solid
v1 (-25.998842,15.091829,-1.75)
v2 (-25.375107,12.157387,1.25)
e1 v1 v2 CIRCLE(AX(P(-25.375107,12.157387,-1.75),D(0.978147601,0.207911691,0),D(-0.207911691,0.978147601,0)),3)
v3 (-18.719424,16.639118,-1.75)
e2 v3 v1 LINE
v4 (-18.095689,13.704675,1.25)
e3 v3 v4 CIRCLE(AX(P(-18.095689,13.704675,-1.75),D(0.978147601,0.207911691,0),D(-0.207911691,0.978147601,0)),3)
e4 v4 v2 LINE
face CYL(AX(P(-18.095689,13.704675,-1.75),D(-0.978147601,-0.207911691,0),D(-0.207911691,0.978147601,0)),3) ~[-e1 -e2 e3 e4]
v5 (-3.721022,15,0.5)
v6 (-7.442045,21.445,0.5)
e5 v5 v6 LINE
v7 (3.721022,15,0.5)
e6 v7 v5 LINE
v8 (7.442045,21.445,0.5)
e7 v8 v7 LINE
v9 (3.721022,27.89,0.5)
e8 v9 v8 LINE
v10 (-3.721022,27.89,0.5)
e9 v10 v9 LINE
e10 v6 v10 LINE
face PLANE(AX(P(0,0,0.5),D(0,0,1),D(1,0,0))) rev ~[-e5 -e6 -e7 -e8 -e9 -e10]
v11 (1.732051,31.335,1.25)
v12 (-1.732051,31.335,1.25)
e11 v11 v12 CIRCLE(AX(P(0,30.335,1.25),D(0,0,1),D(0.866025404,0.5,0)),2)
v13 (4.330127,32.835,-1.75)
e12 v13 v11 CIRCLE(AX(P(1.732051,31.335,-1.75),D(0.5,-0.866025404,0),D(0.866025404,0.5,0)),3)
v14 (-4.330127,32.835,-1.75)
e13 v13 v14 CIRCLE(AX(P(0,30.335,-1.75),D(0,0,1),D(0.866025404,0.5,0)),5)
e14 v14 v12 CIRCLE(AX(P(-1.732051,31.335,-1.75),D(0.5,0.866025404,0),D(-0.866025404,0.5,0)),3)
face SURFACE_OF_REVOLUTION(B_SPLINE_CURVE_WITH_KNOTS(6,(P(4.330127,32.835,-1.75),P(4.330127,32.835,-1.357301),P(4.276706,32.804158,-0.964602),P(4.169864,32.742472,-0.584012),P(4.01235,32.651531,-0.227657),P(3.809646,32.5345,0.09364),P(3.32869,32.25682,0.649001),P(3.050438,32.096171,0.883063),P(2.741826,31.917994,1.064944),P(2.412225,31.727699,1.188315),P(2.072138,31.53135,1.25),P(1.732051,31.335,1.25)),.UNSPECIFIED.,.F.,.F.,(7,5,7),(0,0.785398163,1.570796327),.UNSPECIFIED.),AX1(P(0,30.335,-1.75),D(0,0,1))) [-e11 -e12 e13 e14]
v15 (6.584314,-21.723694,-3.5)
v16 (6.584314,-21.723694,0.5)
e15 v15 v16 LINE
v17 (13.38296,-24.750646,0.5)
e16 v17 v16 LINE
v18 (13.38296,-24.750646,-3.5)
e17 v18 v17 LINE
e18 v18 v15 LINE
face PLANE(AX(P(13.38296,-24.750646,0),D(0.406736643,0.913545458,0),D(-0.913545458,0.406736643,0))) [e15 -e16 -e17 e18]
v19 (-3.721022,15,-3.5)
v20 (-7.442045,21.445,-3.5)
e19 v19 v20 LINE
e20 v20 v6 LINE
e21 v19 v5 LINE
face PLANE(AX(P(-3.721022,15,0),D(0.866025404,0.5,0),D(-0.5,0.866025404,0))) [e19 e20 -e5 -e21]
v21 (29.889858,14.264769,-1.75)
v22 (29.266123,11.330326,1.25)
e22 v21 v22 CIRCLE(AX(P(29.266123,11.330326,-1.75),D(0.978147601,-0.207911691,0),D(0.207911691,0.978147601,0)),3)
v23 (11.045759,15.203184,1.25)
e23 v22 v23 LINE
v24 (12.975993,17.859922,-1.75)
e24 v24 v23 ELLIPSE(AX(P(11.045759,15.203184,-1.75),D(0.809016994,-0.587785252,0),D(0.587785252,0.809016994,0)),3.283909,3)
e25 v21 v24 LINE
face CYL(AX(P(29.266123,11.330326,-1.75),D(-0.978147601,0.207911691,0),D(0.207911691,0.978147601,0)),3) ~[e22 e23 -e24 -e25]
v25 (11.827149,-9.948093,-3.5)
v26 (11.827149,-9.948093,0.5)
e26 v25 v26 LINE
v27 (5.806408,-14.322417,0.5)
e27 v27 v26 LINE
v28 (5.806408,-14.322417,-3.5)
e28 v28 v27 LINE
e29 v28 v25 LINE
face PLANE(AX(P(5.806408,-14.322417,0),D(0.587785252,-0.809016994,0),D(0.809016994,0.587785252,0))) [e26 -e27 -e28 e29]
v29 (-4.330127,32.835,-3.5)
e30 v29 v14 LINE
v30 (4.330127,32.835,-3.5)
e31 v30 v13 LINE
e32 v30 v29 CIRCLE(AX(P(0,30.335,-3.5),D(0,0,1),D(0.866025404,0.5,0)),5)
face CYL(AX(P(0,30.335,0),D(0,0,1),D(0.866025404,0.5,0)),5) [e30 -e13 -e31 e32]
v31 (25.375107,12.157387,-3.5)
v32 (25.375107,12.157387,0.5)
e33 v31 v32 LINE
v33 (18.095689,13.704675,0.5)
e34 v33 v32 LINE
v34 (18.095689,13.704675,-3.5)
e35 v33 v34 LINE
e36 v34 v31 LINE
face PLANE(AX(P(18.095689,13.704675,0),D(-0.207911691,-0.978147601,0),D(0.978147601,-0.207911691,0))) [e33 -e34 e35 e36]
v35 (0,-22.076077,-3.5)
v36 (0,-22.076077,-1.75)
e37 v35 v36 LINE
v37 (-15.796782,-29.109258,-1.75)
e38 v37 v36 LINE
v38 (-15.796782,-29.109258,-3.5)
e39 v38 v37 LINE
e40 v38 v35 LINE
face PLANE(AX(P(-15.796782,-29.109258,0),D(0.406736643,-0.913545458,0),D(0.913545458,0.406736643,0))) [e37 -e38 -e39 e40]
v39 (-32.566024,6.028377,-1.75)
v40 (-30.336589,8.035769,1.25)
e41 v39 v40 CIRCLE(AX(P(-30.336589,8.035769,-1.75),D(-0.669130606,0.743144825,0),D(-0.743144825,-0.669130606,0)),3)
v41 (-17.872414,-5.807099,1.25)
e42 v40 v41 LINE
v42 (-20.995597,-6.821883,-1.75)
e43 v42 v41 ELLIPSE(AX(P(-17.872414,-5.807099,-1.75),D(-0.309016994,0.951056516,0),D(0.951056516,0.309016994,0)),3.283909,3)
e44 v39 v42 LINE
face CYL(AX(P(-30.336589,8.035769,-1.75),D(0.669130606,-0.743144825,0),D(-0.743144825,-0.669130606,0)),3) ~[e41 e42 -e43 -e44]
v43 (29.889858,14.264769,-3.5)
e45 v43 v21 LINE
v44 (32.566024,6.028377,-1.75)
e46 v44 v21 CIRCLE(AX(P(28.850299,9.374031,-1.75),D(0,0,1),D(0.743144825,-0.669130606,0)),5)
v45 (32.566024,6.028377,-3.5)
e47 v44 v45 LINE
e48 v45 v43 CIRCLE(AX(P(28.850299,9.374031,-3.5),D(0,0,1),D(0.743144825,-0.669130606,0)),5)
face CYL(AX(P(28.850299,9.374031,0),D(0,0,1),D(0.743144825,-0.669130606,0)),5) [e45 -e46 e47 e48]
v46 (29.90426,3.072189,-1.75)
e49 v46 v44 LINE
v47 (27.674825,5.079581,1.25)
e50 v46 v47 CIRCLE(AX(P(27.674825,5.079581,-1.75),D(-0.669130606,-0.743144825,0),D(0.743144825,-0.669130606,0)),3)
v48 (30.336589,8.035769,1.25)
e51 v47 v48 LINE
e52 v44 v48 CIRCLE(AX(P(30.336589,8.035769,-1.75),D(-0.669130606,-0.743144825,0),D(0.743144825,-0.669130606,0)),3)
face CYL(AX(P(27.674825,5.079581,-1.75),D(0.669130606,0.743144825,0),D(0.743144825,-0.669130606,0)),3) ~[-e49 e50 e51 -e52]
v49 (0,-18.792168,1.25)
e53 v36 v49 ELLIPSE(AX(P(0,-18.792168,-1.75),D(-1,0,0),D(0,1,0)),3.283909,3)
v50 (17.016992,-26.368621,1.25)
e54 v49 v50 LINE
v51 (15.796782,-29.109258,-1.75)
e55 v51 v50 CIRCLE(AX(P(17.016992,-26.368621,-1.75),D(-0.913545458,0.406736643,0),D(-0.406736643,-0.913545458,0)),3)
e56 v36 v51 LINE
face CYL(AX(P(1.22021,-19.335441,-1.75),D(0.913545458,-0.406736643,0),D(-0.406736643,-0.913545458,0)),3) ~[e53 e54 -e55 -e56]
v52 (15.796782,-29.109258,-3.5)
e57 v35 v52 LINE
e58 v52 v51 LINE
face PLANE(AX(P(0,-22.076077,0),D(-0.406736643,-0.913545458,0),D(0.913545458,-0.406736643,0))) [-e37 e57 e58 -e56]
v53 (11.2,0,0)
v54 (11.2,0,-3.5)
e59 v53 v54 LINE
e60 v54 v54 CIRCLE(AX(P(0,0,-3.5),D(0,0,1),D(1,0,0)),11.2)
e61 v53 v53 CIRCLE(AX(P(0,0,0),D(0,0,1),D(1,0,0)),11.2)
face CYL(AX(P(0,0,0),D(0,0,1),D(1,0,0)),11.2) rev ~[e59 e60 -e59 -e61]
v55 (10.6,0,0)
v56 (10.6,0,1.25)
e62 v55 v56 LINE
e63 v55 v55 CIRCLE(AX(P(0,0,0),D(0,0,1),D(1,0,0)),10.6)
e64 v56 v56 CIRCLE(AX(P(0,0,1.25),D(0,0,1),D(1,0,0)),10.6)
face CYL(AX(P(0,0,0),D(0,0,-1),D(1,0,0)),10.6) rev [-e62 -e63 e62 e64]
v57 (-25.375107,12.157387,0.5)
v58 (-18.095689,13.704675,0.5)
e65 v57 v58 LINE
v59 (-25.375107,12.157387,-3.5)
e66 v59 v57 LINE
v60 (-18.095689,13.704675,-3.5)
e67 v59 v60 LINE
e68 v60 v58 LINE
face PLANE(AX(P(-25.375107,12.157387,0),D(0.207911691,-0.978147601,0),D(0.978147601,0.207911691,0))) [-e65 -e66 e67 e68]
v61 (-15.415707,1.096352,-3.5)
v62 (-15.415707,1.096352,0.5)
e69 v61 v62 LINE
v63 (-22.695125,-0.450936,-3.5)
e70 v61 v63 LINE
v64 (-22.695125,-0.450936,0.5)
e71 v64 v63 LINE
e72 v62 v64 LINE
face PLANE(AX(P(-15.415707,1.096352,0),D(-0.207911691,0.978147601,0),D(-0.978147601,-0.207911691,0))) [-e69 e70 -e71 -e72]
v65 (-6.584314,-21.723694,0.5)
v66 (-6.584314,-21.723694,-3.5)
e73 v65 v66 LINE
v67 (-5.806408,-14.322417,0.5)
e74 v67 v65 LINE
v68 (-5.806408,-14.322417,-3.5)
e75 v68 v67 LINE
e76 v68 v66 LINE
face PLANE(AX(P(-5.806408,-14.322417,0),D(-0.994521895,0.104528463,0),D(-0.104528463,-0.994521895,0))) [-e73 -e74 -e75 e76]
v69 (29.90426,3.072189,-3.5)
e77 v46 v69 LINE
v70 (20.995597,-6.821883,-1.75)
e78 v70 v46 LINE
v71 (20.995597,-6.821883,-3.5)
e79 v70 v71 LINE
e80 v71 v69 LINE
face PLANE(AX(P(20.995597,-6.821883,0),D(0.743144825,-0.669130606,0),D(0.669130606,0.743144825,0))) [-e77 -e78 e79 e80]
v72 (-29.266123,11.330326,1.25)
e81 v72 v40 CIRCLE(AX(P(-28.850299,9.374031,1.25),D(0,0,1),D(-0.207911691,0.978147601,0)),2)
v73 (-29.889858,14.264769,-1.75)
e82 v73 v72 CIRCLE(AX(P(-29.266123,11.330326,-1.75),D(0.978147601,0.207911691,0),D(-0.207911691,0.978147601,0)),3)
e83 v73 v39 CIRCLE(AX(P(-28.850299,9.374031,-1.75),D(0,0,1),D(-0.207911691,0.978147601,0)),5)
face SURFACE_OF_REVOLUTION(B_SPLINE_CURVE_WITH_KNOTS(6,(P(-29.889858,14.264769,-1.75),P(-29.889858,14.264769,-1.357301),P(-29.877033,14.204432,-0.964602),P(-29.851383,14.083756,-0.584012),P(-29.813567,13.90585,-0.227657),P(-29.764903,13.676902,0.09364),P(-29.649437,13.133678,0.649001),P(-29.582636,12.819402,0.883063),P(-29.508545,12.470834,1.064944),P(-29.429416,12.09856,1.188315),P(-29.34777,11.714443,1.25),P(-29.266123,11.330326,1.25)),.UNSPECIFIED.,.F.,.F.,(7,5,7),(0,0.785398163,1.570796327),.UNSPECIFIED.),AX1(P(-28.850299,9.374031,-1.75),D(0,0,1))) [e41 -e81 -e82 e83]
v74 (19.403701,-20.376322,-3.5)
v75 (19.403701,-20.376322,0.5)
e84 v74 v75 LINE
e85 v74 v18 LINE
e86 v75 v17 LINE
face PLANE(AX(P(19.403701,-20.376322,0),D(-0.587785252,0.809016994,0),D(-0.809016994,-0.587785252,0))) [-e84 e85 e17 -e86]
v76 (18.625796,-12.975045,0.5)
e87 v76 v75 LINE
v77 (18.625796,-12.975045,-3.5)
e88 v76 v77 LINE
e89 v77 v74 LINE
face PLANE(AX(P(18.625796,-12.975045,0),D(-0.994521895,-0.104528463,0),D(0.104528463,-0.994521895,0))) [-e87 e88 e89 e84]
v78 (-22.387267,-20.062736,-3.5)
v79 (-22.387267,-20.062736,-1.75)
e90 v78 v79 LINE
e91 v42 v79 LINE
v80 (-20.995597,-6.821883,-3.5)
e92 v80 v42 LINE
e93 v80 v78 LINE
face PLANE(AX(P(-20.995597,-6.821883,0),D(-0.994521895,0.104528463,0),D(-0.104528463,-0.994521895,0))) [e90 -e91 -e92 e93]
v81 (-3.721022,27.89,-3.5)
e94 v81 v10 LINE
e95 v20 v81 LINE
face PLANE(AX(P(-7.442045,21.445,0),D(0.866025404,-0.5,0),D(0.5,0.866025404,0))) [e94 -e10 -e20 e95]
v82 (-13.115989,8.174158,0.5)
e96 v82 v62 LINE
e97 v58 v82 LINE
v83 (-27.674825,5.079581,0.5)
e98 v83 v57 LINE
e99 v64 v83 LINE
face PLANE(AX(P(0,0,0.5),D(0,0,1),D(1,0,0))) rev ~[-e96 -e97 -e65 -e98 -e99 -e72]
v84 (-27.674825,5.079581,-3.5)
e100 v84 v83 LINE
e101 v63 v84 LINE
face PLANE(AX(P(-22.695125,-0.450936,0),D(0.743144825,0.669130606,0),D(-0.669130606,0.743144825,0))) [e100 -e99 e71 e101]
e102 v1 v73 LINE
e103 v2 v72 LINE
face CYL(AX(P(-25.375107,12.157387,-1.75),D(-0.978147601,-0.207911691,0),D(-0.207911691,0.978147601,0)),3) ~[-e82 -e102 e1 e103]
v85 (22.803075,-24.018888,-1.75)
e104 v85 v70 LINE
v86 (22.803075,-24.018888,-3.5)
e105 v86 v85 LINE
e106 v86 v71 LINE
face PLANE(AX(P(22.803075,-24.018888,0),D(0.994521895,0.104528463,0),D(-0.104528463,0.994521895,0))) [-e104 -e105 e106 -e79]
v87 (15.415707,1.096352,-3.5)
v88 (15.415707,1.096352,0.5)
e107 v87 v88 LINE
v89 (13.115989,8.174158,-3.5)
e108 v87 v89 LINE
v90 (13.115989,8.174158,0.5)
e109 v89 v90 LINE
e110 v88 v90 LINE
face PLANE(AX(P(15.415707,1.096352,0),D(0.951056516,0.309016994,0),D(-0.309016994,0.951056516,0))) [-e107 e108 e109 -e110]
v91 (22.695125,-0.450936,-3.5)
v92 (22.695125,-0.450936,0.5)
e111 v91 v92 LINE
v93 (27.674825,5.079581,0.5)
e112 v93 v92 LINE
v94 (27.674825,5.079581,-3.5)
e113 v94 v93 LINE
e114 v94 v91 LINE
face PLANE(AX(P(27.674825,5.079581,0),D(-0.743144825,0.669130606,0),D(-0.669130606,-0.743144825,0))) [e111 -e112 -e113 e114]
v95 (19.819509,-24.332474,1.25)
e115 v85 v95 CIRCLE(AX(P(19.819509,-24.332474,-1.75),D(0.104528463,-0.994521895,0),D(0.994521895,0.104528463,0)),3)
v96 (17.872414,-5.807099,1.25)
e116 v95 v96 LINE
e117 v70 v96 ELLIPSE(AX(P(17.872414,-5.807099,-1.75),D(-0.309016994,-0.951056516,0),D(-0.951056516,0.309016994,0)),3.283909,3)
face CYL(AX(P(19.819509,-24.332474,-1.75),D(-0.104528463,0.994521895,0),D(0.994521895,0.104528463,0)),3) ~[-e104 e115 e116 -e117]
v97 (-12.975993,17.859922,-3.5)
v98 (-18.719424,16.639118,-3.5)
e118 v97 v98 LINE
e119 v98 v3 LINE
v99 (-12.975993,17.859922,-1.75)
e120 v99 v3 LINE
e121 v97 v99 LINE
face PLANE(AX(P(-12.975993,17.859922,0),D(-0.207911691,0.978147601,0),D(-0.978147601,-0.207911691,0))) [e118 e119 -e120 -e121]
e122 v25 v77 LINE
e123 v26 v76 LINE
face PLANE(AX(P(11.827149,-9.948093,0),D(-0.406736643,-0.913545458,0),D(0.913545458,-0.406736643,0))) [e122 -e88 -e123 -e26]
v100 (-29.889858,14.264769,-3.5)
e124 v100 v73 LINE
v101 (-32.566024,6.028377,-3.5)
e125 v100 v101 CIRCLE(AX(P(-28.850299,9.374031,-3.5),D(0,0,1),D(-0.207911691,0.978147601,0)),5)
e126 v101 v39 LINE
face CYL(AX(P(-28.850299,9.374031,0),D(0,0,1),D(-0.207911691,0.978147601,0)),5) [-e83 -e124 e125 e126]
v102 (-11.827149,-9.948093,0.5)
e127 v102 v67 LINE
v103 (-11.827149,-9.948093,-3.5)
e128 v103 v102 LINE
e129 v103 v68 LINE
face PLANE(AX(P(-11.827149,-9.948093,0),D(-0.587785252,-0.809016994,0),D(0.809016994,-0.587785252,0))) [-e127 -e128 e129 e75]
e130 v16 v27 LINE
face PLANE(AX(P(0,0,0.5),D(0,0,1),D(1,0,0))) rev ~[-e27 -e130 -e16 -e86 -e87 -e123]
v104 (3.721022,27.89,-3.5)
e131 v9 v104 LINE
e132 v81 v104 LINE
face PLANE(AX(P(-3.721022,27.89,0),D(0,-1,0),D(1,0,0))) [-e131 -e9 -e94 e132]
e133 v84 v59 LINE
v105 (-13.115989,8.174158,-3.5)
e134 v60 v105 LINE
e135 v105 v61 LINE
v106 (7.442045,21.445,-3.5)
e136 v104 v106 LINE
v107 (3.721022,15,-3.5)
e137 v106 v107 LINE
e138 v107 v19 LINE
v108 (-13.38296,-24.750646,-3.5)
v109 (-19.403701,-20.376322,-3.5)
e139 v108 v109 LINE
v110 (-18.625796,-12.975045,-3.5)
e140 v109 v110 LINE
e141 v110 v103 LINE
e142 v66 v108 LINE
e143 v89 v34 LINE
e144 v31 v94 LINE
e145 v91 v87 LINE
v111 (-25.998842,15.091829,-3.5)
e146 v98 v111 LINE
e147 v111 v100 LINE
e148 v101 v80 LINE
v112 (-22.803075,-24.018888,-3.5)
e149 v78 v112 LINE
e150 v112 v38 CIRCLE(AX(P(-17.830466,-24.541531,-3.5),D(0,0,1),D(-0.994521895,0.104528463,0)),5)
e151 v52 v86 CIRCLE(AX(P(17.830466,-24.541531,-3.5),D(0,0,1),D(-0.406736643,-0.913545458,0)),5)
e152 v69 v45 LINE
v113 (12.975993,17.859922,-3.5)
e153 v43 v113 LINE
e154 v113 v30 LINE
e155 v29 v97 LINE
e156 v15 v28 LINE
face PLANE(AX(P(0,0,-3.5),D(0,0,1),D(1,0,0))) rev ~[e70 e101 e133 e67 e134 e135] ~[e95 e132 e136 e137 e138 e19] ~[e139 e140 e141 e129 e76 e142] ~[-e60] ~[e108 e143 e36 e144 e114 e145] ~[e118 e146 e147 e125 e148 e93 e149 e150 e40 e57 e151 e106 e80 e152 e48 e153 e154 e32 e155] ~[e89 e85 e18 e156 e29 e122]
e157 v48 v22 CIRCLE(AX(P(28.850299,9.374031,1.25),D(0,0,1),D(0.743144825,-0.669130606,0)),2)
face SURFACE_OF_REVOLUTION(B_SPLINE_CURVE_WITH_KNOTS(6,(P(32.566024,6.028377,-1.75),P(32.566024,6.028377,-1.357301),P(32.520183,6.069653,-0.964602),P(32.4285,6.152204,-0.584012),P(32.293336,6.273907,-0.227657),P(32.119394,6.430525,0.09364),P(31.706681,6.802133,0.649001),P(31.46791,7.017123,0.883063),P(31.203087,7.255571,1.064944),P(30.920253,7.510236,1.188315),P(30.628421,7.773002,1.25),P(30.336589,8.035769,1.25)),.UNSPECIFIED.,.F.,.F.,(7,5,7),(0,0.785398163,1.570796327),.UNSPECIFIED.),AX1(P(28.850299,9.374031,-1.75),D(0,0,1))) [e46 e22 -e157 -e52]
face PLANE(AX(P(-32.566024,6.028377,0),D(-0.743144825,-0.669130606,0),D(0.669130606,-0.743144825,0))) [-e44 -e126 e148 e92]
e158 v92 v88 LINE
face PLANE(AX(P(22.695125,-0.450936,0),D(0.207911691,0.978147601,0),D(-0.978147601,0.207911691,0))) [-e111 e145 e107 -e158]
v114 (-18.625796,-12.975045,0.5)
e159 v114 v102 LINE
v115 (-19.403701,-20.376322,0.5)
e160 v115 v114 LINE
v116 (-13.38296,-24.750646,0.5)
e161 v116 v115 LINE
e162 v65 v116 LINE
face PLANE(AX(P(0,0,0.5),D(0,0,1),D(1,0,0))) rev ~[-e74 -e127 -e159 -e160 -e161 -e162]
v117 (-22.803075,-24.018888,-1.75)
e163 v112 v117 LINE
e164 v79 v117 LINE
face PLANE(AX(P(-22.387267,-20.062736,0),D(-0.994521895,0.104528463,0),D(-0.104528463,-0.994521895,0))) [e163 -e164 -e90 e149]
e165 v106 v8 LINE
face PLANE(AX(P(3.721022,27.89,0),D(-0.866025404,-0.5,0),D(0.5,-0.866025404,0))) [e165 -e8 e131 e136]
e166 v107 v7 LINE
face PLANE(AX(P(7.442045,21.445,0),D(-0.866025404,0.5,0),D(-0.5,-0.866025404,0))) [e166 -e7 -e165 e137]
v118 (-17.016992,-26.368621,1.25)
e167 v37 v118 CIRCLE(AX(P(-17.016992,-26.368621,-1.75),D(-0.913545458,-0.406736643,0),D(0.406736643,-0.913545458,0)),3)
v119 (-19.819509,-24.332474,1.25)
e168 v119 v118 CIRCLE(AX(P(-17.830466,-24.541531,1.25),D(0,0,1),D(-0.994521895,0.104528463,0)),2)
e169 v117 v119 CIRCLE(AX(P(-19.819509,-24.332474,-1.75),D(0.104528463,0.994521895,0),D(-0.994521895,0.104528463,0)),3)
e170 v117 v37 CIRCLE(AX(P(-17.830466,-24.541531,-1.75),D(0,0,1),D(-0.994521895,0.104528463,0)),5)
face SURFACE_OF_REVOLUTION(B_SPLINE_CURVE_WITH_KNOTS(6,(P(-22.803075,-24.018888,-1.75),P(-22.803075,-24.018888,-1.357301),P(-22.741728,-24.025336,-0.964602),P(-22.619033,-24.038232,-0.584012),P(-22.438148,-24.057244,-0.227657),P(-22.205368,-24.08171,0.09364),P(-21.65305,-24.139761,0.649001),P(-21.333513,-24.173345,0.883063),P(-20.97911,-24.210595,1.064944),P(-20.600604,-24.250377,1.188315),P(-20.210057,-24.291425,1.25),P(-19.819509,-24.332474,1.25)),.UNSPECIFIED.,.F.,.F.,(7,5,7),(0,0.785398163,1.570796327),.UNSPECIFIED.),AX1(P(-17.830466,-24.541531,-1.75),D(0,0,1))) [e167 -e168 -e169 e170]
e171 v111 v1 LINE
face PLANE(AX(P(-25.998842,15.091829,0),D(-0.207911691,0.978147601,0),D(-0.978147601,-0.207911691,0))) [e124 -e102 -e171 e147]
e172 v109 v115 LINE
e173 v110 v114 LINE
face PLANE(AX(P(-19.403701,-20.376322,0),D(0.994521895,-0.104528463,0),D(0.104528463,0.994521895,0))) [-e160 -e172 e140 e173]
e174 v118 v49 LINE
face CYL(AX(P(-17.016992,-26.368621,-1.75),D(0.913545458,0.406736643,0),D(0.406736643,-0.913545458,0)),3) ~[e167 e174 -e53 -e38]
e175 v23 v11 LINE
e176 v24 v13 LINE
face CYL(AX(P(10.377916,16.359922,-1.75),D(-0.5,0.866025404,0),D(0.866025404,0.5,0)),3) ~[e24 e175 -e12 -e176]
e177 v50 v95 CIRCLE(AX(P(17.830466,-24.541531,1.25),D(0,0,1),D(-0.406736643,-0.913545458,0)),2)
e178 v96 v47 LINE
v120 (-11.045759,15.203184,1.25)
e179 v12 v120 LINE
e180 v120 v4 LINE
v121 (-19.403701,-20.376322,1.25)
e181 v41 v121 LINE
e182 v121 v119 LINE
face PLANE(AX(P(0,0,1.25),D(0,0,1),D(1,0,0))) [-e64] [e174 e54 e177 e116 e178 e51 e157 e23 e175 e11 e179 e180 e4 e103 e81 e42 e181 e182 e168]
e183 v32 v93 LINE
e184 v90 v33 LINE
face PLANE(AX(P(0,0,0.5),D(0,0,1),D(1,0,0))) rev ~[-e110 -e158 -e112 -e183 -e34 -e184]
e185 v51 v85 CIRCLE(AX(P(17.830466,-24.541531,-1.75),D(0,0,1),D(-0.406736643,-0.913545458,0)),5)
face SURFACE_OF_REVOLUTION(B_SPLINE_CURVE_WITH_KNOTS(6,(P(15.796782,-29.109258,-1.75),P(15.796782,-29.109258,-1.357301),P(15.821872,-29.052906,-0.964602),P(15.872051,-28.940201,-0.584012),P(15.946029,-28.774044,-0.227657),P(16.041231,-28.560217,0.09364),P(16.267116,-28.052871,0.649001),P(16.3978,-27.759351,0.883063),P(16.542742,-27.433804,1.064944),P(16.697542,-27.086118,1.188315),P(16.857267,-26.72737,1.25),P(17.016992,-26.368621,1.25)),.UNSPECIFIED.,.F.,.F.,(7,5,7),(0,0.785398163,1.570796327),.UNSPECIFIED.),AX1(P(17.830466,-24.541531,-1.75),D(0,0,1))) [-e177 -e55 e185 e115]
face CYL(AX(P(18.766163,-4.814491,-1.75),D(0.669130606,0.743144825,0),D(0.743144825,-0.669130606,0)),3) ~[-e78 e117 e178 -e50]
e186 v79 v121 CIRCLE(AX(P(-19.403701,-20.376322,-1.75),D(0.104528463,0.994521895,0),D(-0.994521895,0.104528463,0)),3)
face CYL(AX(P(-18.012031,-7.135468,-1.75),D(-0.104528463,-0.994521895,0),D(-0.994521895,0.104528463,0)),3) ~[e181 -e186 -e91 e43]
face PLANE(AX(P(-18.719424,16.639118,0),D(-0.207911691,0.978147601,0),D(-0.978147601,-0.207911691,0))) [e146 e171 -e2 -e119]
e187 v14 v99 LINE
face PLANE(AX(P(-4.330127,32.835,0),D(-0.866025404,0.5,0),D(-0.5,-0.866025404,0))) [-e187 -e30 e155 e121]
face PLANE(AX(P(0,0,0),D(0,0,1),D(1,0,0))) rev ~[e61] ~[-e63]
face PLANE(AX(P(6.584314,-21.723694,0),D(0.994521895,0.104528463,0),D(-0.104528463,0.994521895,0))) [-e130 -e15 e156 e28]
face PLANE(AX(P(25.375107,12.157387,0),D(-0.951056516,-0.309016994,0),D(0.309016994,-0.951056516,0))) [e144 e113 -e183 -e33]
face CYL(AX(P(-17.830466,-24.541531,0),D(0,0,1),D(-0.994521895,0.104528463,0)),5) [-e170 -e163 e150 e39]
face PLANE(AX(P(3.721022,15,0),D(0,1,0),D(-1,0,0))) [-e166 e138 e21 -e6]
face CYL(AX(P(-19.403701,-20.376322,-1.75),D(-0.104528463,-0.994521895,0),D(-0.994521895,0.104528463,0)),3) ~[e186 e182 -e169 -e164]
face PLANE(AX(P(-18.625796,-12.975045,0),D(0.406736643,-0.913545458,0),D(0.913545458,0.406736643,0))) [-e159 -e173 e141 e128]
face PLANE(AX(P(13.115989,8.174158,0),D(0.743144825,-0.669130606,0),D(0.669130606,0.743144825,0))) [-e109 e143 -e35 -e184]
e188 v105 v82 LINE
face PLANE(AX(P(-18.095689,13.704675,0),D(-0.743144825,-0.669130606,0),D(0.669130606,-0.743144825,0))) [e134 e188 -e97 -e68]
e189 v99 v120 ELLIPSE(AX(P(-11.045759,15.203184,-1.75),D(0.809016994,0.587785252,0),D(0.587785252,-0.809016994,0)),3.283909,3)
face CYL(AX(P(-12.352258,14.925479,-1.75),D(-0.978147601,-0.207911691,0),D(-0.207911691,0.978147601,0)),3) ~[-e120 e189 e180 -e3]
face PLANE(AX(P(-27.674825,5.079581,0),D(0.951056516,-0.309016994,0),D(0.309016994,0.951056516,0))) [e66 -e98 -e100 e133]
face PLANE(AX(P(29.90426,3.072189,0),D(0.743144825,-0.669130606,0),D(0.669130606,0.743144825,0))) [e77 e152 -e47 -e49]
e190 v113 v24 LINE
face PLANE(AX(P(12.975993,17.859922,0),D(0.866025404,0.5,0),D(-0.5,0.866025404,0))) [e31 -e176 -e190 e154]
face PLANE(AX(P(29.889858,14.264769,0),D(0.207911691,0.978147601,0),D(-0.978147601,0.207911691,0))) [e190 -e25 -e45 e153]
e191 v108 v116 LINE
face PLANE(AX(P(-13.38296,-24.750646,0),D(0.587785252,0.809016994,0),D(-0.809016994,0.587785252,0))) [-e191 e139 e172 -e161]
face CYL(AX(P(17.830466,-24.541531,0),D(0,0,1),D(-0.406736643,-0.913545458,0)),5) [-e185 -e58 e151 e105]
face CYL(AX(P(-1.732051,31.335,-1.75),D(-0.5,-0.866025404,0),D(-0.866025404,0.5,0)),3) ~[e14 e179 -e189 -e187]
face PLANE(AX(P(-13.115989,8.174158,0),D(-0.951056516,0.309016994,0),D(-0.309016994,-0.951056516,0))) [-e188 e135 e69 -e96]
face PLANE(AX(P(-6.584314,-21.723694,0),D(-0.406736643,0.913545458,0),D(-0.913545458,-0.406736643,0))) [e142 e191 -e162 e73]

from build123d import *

# Parameters (mm, degrees)
F0_R     = 11.2
F0_R_2   = 10.6
F1_DEPTH = 1.25
F2_DEPTH = 3.5
F3_R     = 3
F4_DEPTH = 0.5


with BuildPart() as f1:
    # F0 (on Top) → F1 (new body)
    with BuildSketch(Plane.XY):
        with BuildLine():
            ThreePointArc((32.5660235492, 6.0283774926), (33.6055820033, 10.9191154962), (29.8898578759, 14.264768528))
            Line((29.8898578759, 14.264768528), (12.9759925753, 17.8599215809))
            Line((12.9759925753, 17.8599215809), (4.3301270189, 32.835))
            ThreePointArc((4.3301270189, 32.835), (0, 35.335), (-4.3301270189, 32.835))
            Line((-4.3301270189, 32.835), (-12.9759925753, 17.8599215809))
            Line((-12.9759925753, 17.8599215809), (-18.7194236958, 16.6391176097))
            Line((-18.7194236958, 16.6391176097), (-25.9988421276, 15.0918294569))
            Line((-25.9988421276, 15.0918294569), (-29.8898578759, 14.264768528))
            ThreePointArc((-29.8898578759, 14.264768528), (-33.6055820033, 10.9191154962), (-32.5660235492, 6.0283774926))
            Line((-32.5660235492, 6.0283774926), (-20.9955970247, -6.8218830075))
            Line((-20.9955970247, -6.8218830075), (-22.3872667993, -20.0627364432))
            Line((-22.3872667993, -20.0627364432), (-22.8030751051, -24.018888208))
            ThreePointArc((-22.8030751051, -24.018888208), (-20.7693918898, -28.5866154962), (-15.7967824129, -29.1092578126))
            Line((-15.7967824129, -29.1092578126), (0, -22.0760771468))
            Line((0, -22.0760771468), (15.7967824129, -29.1092578126))
            ThreePointArc((15.7967824129, -29.1092578126), (20.7693918898, -28.5866154962), (22.8030751051, -24.018888208))
            Line((22.8030751051, -24.018888208), (20.9955970247, -6.8218830075))
            Line((20.9955970247, -6.8218830075), (29.9042599002, 3.0721894725))
            Line((29.9042599002, 3.0721894725), (32.5660235492, 6.0283774926))
        make_face()
        with BuildLine():
            Line((3.7210224849, 27.89), (7.4420449699, 21.445))
            Line((7.4420449699, 21.445), (10.6005307066, 15.9743422289))
            ThreePointArc((10.6005307066, 15.9743422289), (11.1570110096, 15.3563082401), (11.9167581326, 15.0180470274))
            Line((11.9167581326, 15.0180470274), (18.0956886234, 13.7046748075))
            Line((18.0956886234, 13.7046748075), (25.3751070552, 12.1573866547))
            Line((25.3751070552, 12.1573866547), (29.2661228034, 11.3303257258))
            ThreePointArc((29.2661228034, 11.3303257258), (30.7524124544, 9.9920645131), (30.3365890728, 8.0357693116))
            Line((30.3365890728, 8.0357693116), (27.6748254238, 5.0795812915))
            Line((27.6748254238, 5.0795812915), (22.6951253605, -0.4509359188))
            Line((22.6951253605, -0.4509359188), (18.4682464081, -5.145360582))
            ThreePointArc((18.4682464081, -5.145360582), (18.0524230264, -5.865587806), (17.9654922683, -6.6926787213))
            Line((17.9654922683, -6.6926787213), (18.6257955889, -12.9750451642))
            Line((18.6257955889, -12.9750451642), (19.4037011132, -20.376321833))
            Line((19.4037011132, -20.376321833), (19.819509419, -24.3324735978))
            ThreePointArc((19.819509419, -24.3324735978), (19.0060361329, -26.1595645131), (17.0169923421, -26.3686214396))
            Line((17.0169923421, -26.3686214396), (13.3829602597, -24.7506461132))
            Line((13.3829602597, -24.7506461132), (6.5843138819, -21.7236937245))
            Line((6.5843138819, -21.7236937245), (0.8134732862, -19.154349953))
            ThreePointArc((0.8134732862, -19.154349953), (0, -18.9814408683), (-0.8134732862, -19.154349953))
            Line((-0.8134732862, -19.154349953), (-6.5843138819, -21.7236937245))
            Line((-6.5843138819, -21.7236937245), (-13.3829602597, -24.7506461132))
            Line((-13.3829602597, -24.7506461132), (-17.0169923421, -26.3686214396))
            ThreePointArc((-17.0169923421, -26.3686214396), (-19.0060361329, -26.1595645131), (-19.819509419, -24.3324735978))
            Line((-19.819509419, -24.3324735978), (-19.4037011132, -20.376321833))
            Line((-19.4037011132, -20.376321833), (-18.6257955889, -12.9750451642))
            Line((-18.6257955889, -12.9750451642), (-17.9654922683, -6.6926787213))
            ThreePointArc((-17.9654922683, -6.6926787213), (-18.0524230264, -5.865587806), (-18.4682464081, -5.145360582))
            Line((-18.4682464081, -5.145360582), (-22.6951253605, -0.4509359188))
            Line((-22.6951253605, -0.4509359188), (-27.6748254238, 5.0795812915))
            Line((-27.6748254238, 5.0795812915), (-30.3365890728, 8.0357693116))
            ThreePointArc((-30.3365890728, 8.0357693116), (-30.7524124544, 9.9920645131), (-29.2661228034, 11.3303257258))
            Line((-29.2661228034, 11.3303257258), (-25.3751070552, 12.1573866547))
            Line((-25.3751070552, 12.1573866547), (-18.0956886234, 13.7046748075))
            Line((-18.0956886234, 13.7046748075), (-11.9167581326, 15.0180470274))
            ThreePointArc((-11.9167581326, 15.0180470274), (-11.1570110096, 15.3563082401), (-10.6005307066, 15.9743422289))
            Line((-10.6005307066, 15.9743422289), (-7.4420449699, 21.445))
            Line((-7.4420449699, 21.445), (-3.7210224849, 27.89))
            Line((-3.7210224849, 27.89), (-1.7320508076, 31.335))
            ThreePointArc((-1.7320508076, 31.335), (0, 32.335), (1.7320508076, 31.335))
            Line((1.7320508076, 31.335), (3.7210224849, 27.89))
        make_face(mode=Mode.SUBTRACT)
        with BuildLine():
            Line((7.4420449699, 21.445), (3.7210224849, 15))
            Line((3.7210224849, 15), (-3.7210224849, 15))
            Line((-3.7210224849, 15), (-7.4420449699, 21.445))
            Line((-7.4420449699, 21.445), (-10.6005307066, 15.9743422289))
            ThreePointArc((-10.6005307066, 15.9743422289), (-11.1570110096, 15.3563082401), (-11.9167581326, 15.0180470274))
            Line((-11.9167581326, 15.0180470274), (-18.0956886234, 13.7046748075))
            Line((-18.0956886234, 13.7046748075), (-13.1159885601, 8.1741575972))
            Line((-13.1159885601, 8.1741575972), (-15.4157069287, 1.0963522341))
            Line((-15.4157069287, 1.0963522341), (-22.6951253605, -0.4509359188))
            Line((-22.6951253605, -0.4509359188), (-18.4682464081, -5.145360582))
            ThreePointArc((-18.4682464081, -5.145360582), (-18.0524230264, -5.865587806), (-17.9654922683, -6.6926787213))
            Line((-17.9654922683, -6.6926787213), (-18.6257955889, -12.9750451642))
            Line((-18.6257955889, -12.9750451642), (-11.8271492111, -9.9480927755))
            Line((-11.8271492111, -9.9480927755), (-5.8064083576, -14.3224170557))
            Line((-5.8064083576, -14.3224170557), (-6.5843138819, -21.7236937245))
            Line((-6.5843138819, -21.7236937245), (-0.8134732862, -19.154349953))
            ThreePointArc((-0.8134732862, -19.154349953), (0, -18.9814408683), (0.8134732862, -19.154349953))
            Line((0.8134732862, -19.154349953), (6.5843138819, -21.7236937245))
            Line((6.5843138819, -21.7236937245), (5.8064083576, -14.3224170557))
            Line((5.8064083576, -14.3224170557), (11.8271492111, -9.9480927755))
            Line((11.8271492111, -9.9480927755), (18.6257955889, -12.9750451642))
            Line((18.6257955889, -12.9750451642), (17.9654922683, -6.6926787213))
            ThreePointArc((17.9654922683, -6.6926787213), (18.0524230264, -5.865587806), (18.4682464081, -5.145360582))
            Line((18.4682464081, -5.145360582), (22.6951253605, -0.4509359188))
            Line((22.6951253605, -0.4509359188), (15.4157069287, 1.0963522341))
            Line((15.4157069287, 1.0963522341), (13.1159885601, 8.1741575972))
            Line((13.1159885601, 8.1741575972), (18.0956886234, 13.7046748075))
            Line((18.0956886234, 13.7046748075), (11.9167581326, 15.0180470274))
            ThreePointArc((11.9167581326, 15.0180470274), (11.1570110096, 15.3563082401), (10.6005307066, 15.9743422289))
            Line((10.6005307066, 15.9743422289), (7.4420449699, 21.445))
        make_face()
        Circle(F0_R, mode=Mode.SUBTRACT)
        Circle(F0_R)
        Circle(F0_R_2, mode=Mode.SUBTRACT)
        Polygon((-13.1159885601, 8.1741575972), (-18.0956886234, 13.7046748075), (-25.3751070552, 12.1573866547), (-27.6748254238, 5.0795812915), (-22.6951253605, -0.4509359188), (-15.4157069287, 1.0963522341), align=None)
        Polygon((-11.8271492111, -9.9480927755), (-18.6257955889, -12.9750451642), (-19.4037011132, -20.376321833), (-13.3829602597, -24.7506461132), (-6.5843138819, -21.7236937245), (-5.8064083576, -14.3224170557), align=None)
        Polygon((19.4037011132, -20.376321833), (18.6257955889, -12.9750451642), (11.8271492111, -9.9480927755), (5.8064083576, -14.3224170557), (6.5843138819, -21.7236937245), (13.3829602597, -24.7506461132), align=None)
        Polygon((25.3751070552, 12.1573866547), (18.0956886234, 13.7046748075), (13.1159885601, 8.1741575972), (15.4157069287, 1.0963522341), (22.6951253605, -0.4509359188), (27.6748254238, 5.0795812915), align=None)
        Polygon((-3.7210224849, 15), (3.7210224849, 15), (7.4420449699, 21.445), (3.7210224849, 27.89), (-3.7210224849, 27.89), (-7.4420449699, 21.445), align=None)
        with BuildLine():
            Line((-27.6748254238, 5.0795812915), (-25.3751070552, 12.1573866547))
            Line((-25.3751070552, 12.1573866547), (-29.2661228034, 11.3303257258))
            ThreePointArc((-29.2661228034, 11.3303257258), (-30.7524124544, 9.9920645131), (-30.3365890728, 8.0357693116))
            Line((-30.3365890728, 8.0357693116), (-27.6748254238, 5.0795812915))
        make_face()
        with BuildLine():
            Line((-13.3829602597, -24.7506461132), (-19.4037011132, -20.376321833))
            Line((-19.4037011132, -20.376321833), (-19.819509419, -24.3324735978))
            ThreePointArc((-19.819509419, -24.3324735978), (-19.0060361329, -26.1595645131), (-17.0169923421, -26.3686214396))
            Line((-17.0169923421, -26.3686214396), (-13.3829602597, -24.7506461132))
        make_face()
        with BuildLine():
            Line((19.819509419, -24.3324735978), (19.4037011132, -20.376321833))
            Line((19.4037011132, -20.376321833), (13.3829602597, -24.7506461132))
            Line((13.3829602597, -24.7506461132), (17.0169923421, -26.3686214396))
            ThreePointArc((17.0169923421, -26.3686214396), (19.0060361329, -26.1595645131), (19.819509419, -24.3324735978))
        make_face()
        with BuildLine():
            Line((29.2661228034, 11.3303257258), (25.3751070552, 12.1573866547))
            Line((25.3751070552, 12.1573866547), (27.6748254238, 5.0795812915))
            Line((27.6748254238, 5.0795812915), (30.3365890728, 8.0357693116))
            ThreePointArc((30.3365890728, 8.0357693116), (30.7524124544, 9.9920645131), (29.2661228034, 11.3303257258))
        make_face()
        with BuildLine():
            Line((-3.7210224849, 27.89), (3.7210224849, 27.89))
            Line((3.7210224849, 27.89), (1.7320508076, 31.335))
            ThreePointArc((1.7320508076, 31.335), (0, 32.335), (-1.7320508076, 31.335))
            Line((-1.7320508076, 31.335), (-3.7210224849, 27.89))
        make_face()
    extrude(amount=F1_DEPTH)

    # F0 (on Top) → F2 (join)
    with BuildSketch(Plane.XY):
        with BuildLine():
            ThreePointArc((32.5660235492, 6.0283774926), (33.6055820033, 10.9191154962), (29.8898578759, 14.264768528))
            Line((29.8898578759, 14.264768528), (12.9759925753, 17.8599215809))
            Line((12.9759925753, 17.8599215809), (4.3301270189, 32.835))
            ThreePointArc((4.3301270189, 32.835), (0, 35.335), (-4.3301270189, 32.835))
            Line((-4.3301270189, 32.835), (-12.9759925753, 17.8599215809))
            Line((-12.9759925753, 17.8599215809), (-18.7194236958, 16.6391176097))
            Line((-18.7194236958, 16.6391176097), (-25.9988421276, 15.0918294569))
            Line((-25.9988421276, 15.0918294569), (-29.8898578759, 14.264768528))
            ThreePointArc((-29.8898578759, 14.264768528), (-33.6055820033, 10.9191154962), (-32.5660235492, 6.0283774926))
            Line((-32.5660235492, 6.0283774926), (-20.9955970247, -6.8218830075))
            Line((-20.9955970247, -6.8218830075), (-22.3872667993, -20.0627364432))
            Line((-22.3872667993, -20.0627364432), (-22.8030751051, -24.018888208))
            ThreePointArc((-22.8030751051, -24.018888208), (-20.7693918898, -28.5866154962), (-15.7967824129, -29.1092578126))
            Line((-15.7967824129, -29.1092578126), (0, -22.0760771468))
            Line((0, -22.0760771468), (15.7967824129, -29.1092578126))
            ThreePointArc((15.7967824129, -29.1092578126), (20.7693918898, -28.5866154962), (22.8030751051, -24.018888208))
            Line((22.8030751051, -24.018888208), (20.9955970247, -6.8218830075))
            Line((20.9955970247, -6.8218830075), (29.9042599002, 3.0721894725))
            Line((29.9042599002, 3.0721894725), (32.5660235492, 6.0283774926))
        make_face()
        with BuildLine():
            Line((3.7210224849, 27.89), (7.4420449699, 21.445))
            Line((7.4420449699, 21.445), (10.6005307066, 15.9743422289))
            ThreePointArc((10.6005307066, 15.9743422289), (11.1570110096, 15.3563082401), (11.9167581326, 15.0180470274))
            Line((11.9167581326, 15.0180470274), (18.0956886234, 13.7046748075))
            Line((18.0956886234, 13.7046748075), (25.3751070552, 12.1573866547))
            Line((25.3751070552, 12.1573866547), (29.2661228034, 11.3303257258))
            ThreePointArc((29.2661228034, 11.3303257258), (30.7524124544, 9.9920645131), (30.3365890728, 8.0357693116))
            Line((30.3365890728, 8.0357693116), (27.6748254238, 5.0795812915))
            Line((27.6748254238, 5.0795812915), (22.6951253605, -0.4509359188))
            Line((22.6951253605, -0.4509359188), (18.4682464081, -5.145360582))
            ThreePointArc((18.4682464081, -5.145360582), (18.0524230264, -5.865587806), (17.9654922683, -6.6926787213))
            Line((17.9654922683, -6.6926787213), (18.6257955889, -12.9750451642))
            Line((18.6257955889, -12.9750451642), (19.4037011132, -20.376321833))
            Line((19.4037011132, -20.376321833), (19.819509419, -24.3324735978))
            ThreePointArc((19.819509419, -24.3324735978), (19.0060361329, -26.1595645131), (17.0169923421, -26.3686214396))
            Line((17.0169923421, -26.3686214396), (13.3829602597, -24.7506461132))
            Line((13.3829602597, -24.7506461132), (6.5843138819, -21.7236937245))
            Line((6.5843138819, -21.7236937245), (0.8134732862, -19.154349953))
            ThreePointArc((0.8134732862, -19.154349953), (0, -18.9814408683), (-0.8134732862, -19.154349953))
            Line((-0.8134732862, -19.154349953), (-6.5843138819, -21.7236937245))
            Line((-6.5843138819, -21.7236937245), (-13.3829602597, -24.7506461132))
            Line((-13.3829602597, -24.7506461132), (-17.0169923421, -26.3686214396))
            ThreePointArc((-17.0169923421, -26.3686214396), (-19.0060361329, -26.1595645131), (-19.819509419, -24.3324735978))
            Line((-19.819509419, -24.3324735978), (-19.4037011132, -20.376321833))
            Line((-19.4037011132, -20.376321833), (-18.6257955889, -12.9750451642))
            Line((-18.6257955889, -12.9750451642), (-17.9654922683, -6.6926787213))
            ThreePointArc((-17.9654922683, -6.6926787213), (-18.0524230264, -5.865587806), (-18.4682464081, -5.145360582))
            Line((-18.4682464081, -5.145360582), (-22.6951253605, -0.4509359188))
            Line((-22.6951253605, -0.4509359188), (-27.6748254238, 5.0795812915))
            Line((-27.6748254238, 5.0795812915), (-30.3365890728, 8.0357693116))
            ThreePointArc((-30.3365890728, 8.0357693116), (-30.7524124544, 9.9920645131), (-29.2661228034, 11.3303257258))
            Line((-29.2661228034, 11.3303257258), (-25.3751070552, 12.1573866547))
            Line((-25.3751070552, 12.1573866547), (-18.0956886234, 13.7046748075))
            Line((-18.0956886234, 13.7046748075), (-11.9167581326, 15.0180470274))
            ThreePointArc((-11.9167581326, 15.0180470274), (-11.1570110096, 15.3563082401), (-10.6005307066, 15.9743422289))
            Line((-10.6005307066, 15.9743422289), (-7.4420449699, 21.445))
            Line((-7.4420449699, 21.445), (-3.7210224849, 27.89))
            Line((-3.7210224849, 27.89), (-1.7320508076, 31.335))
            ThreePointArc((-1.7320508076, 31.335), (0, 32.335), (1.7320508076, 31.335))
            Line((1.7320508076, 31.335), (3.7210224849, 27.89))
        make_face(mode=Mode.SUBTRACT)
        with BuildLine():
            Line((29.2661228034, 11.3303257258), (25.3751070552, 12.1573866547))
            Line((25.3751070552, 12.1573866547), (27.6748254238, 5.0795812915))
            Line((27.6748254238, 5.0795812915), (30.3365890728, 8.0357693116))
            ThreePointArc((30.3365890728, 8.0357693116), (30.7524124544, 9.9920645131), (29.2661228034, 11.3303257258))
        make_face()
        with BuildLine():
            Line((7.4420449699, 21.445), (3.7210224849, 15))
            Line((3.7210224849, 15), (-3.7210224849, 15))
            Line((-3.7210224849, 15), (-7.4420449699, 21.445))
            Line((-7.4420449699, 21.445), (-10.6005307066, 15.9743422289))
            ThreePointArc((-10.6005307066, 15.9743422289), (-11.1570110096, 15.3563082401), (-11.9167581326, 15.0180470274))
            Line((-11.9167581326, 15.0180470274), (-18.0956886234, 13.7046748075))
            Line((-18.0956886234, 13.7046748075), (-13.1159885601, 8.1741575972))
            Line((-13.1159885601, 8.1741575972), (-15.4157069287, 1.0963522341))
            Line((-15.4157069287, 1.0963522341), (-22.6951253605, -0.4509359188))
            Line((-22.6951253605, -0.4509359188), (-18.4682464081, -5.145360582))
            ThreePointArc((-18.4682464081, -5.145360582), (-18.0524230264, -5.865587806), (-17.9654922683, -6.6926787213))
            Line((-17.9654922683, -6.6926787213), (-18.6257955889, -12.9750451642))
            Line((-18.6257955889, -12.9750451642), (-11.8271492111, -9.9480927755))
            Line((-11.8271492111, -9.9480927755), (-5.8064083576, -14.3224170557))
            Line((-5.8064083576, -14.3224170557), (-6.5843138819, -21.7236937245))
            Line((-6.5843138819, -21.7236937245), (-0.8134732862, -19.154349953))
            ThreePointArc((-0.8134732862, -19.154349953), (0, -18.9814408683), (0.8134732862, -19.154349953))
            Line((0.8134732862, -19.154349953), (6.5843138819, -21.7236937245))
            Line((6.5843138819, -21.7236937245), (5.8064083576, -14.3224170557))
            Line((5.8064083576, -14.3224170557), (11.8271492111, -9.9480927755))
            Line((11.8271492111, -9.9480927755), (18.6257955889, -12.9750451642))
            Line((18.6257955889, -12.9750451642), (17.9654922683, -6.6926787213))
            ThreePointArc((17.9654922683, -6.6926787213), (18.0524230264, -5.865587806), (18.4682464081, -5.145360582))
            Line((18.4682464081, -5.145360582), (22.6951253605, -0.4509359188))
            Line((22.6951253605, -0.4509359188), (15.4157069287, 1.0963522341))
            Line((15.4157069287, 1.0963522341), (13.1159885601, 8.1741575972))
            Line((13.1159885601, 8.1741575972), (18.0956886234, 13.7046748075))
            Line((18.0956886234, 13.7046748075), (11.9167581326, 15.0180470274))
            ThreePointArc((11.9167581326, 15.0180470274), (11.1570110096, 15.3563082401), (10.6005307066, 15.9743422289))
            Line((10.6005307066, 15.9743422289), (7.4420449699, 21.445))
        make_face()
        Circle(F0_R, mode=Mode.SUBTRACT)
        with BuildLine():
            Line((-3.7210224849, 27.89), (3.7210224849, 27.89))
            Line((3.7210224849, 27.89), (1.7320508076, 31.335))
            ThreePointArc((1.7320508076, 31.335), (0, 32.335), (-1.7320508076, 31.335))
            Line((-1.7320508076, 31.335), (-3.7210224849, 27.89))
        make_face()
        with BuildLine():
            Line((-27.6748254238, 5.0795812915), (-25.3751070552, 12.1573866547))
            Line((-25.3751070552, 12.1573866547), (-29.2661228034, 11.3303257258))
            ThreePointArc((-29.2661228034, 11.3303257258), (-30.7524124544, 9.9920645131), (-30.3365890728, 8.0357693116))
            Line((-30.3365890728, 8.0357693116), (-27.6748254238, 5.0795812915))
        make_face()
        with BuildLine():
            Line((-13.3829602597, -24.7506461132), (-19.4037011132, -20.376321833))
            Line((-19.4037011132, -20.376321833), (-19.819509419, -24.3324735978))
            ThreePointArc((-19.819509419, -24.3324735978), (-19.0060361329, -26.1595645131), (-17.0169923421, -26.3686214396))
            Line((-17.0169923421, -26.3686214396), (-13.3829602597, -24.7506461132))
        make_face()
        with BuildLine():
            Line((19.819509419, -24.3324735978), (19.4037011132, -20.376321833))
            Line((19.4037011132, -20.376321833), (13.3829602597, -24.7506461132))
            Line((13.3829602597, -24.7506461132), (17.0169923421, -26.3686214396))
            ThreePointArc((17.0169923421, -26.3686214396), (19.0060361329, -26.1595645131), (19.819509419, -24.3324735978))
        make_face()
    extrude(amount=-F2_DEPTH)

    # F3
    f3_edges = [f1.edges().sort_by_distance(p)[0] for p in [
        (-8.65306, 25.347461, 1.25),
        (-21.432925, 16.062345, 1.25),
        (-21.899336, -15.420386, 1.25),
        (7.898391, -25.592667, 1.25),
        (26.78081, -0.396753, 1.25),
    ]]
    fillet(f3_edges, radius=F3_R)

    # F4 (cut): faces of the model
    f4_faces = [f1.faces().sort_by_distance(p)[0] for p in [
        (20.3954069919, 6.6268694444, 0),
        (0, 21.445, 0),
        (-20.3954069919, 6.6268694444, 0),
        (-12.6050547354, -17.3493694444, 0),
        (12.6050547354, -17.3493694444, 0),
    ]]
    extrude(f4_faces, amount=-F4_DEPTH, mode=Mode.SUBTRACT)


solid = f1.part
